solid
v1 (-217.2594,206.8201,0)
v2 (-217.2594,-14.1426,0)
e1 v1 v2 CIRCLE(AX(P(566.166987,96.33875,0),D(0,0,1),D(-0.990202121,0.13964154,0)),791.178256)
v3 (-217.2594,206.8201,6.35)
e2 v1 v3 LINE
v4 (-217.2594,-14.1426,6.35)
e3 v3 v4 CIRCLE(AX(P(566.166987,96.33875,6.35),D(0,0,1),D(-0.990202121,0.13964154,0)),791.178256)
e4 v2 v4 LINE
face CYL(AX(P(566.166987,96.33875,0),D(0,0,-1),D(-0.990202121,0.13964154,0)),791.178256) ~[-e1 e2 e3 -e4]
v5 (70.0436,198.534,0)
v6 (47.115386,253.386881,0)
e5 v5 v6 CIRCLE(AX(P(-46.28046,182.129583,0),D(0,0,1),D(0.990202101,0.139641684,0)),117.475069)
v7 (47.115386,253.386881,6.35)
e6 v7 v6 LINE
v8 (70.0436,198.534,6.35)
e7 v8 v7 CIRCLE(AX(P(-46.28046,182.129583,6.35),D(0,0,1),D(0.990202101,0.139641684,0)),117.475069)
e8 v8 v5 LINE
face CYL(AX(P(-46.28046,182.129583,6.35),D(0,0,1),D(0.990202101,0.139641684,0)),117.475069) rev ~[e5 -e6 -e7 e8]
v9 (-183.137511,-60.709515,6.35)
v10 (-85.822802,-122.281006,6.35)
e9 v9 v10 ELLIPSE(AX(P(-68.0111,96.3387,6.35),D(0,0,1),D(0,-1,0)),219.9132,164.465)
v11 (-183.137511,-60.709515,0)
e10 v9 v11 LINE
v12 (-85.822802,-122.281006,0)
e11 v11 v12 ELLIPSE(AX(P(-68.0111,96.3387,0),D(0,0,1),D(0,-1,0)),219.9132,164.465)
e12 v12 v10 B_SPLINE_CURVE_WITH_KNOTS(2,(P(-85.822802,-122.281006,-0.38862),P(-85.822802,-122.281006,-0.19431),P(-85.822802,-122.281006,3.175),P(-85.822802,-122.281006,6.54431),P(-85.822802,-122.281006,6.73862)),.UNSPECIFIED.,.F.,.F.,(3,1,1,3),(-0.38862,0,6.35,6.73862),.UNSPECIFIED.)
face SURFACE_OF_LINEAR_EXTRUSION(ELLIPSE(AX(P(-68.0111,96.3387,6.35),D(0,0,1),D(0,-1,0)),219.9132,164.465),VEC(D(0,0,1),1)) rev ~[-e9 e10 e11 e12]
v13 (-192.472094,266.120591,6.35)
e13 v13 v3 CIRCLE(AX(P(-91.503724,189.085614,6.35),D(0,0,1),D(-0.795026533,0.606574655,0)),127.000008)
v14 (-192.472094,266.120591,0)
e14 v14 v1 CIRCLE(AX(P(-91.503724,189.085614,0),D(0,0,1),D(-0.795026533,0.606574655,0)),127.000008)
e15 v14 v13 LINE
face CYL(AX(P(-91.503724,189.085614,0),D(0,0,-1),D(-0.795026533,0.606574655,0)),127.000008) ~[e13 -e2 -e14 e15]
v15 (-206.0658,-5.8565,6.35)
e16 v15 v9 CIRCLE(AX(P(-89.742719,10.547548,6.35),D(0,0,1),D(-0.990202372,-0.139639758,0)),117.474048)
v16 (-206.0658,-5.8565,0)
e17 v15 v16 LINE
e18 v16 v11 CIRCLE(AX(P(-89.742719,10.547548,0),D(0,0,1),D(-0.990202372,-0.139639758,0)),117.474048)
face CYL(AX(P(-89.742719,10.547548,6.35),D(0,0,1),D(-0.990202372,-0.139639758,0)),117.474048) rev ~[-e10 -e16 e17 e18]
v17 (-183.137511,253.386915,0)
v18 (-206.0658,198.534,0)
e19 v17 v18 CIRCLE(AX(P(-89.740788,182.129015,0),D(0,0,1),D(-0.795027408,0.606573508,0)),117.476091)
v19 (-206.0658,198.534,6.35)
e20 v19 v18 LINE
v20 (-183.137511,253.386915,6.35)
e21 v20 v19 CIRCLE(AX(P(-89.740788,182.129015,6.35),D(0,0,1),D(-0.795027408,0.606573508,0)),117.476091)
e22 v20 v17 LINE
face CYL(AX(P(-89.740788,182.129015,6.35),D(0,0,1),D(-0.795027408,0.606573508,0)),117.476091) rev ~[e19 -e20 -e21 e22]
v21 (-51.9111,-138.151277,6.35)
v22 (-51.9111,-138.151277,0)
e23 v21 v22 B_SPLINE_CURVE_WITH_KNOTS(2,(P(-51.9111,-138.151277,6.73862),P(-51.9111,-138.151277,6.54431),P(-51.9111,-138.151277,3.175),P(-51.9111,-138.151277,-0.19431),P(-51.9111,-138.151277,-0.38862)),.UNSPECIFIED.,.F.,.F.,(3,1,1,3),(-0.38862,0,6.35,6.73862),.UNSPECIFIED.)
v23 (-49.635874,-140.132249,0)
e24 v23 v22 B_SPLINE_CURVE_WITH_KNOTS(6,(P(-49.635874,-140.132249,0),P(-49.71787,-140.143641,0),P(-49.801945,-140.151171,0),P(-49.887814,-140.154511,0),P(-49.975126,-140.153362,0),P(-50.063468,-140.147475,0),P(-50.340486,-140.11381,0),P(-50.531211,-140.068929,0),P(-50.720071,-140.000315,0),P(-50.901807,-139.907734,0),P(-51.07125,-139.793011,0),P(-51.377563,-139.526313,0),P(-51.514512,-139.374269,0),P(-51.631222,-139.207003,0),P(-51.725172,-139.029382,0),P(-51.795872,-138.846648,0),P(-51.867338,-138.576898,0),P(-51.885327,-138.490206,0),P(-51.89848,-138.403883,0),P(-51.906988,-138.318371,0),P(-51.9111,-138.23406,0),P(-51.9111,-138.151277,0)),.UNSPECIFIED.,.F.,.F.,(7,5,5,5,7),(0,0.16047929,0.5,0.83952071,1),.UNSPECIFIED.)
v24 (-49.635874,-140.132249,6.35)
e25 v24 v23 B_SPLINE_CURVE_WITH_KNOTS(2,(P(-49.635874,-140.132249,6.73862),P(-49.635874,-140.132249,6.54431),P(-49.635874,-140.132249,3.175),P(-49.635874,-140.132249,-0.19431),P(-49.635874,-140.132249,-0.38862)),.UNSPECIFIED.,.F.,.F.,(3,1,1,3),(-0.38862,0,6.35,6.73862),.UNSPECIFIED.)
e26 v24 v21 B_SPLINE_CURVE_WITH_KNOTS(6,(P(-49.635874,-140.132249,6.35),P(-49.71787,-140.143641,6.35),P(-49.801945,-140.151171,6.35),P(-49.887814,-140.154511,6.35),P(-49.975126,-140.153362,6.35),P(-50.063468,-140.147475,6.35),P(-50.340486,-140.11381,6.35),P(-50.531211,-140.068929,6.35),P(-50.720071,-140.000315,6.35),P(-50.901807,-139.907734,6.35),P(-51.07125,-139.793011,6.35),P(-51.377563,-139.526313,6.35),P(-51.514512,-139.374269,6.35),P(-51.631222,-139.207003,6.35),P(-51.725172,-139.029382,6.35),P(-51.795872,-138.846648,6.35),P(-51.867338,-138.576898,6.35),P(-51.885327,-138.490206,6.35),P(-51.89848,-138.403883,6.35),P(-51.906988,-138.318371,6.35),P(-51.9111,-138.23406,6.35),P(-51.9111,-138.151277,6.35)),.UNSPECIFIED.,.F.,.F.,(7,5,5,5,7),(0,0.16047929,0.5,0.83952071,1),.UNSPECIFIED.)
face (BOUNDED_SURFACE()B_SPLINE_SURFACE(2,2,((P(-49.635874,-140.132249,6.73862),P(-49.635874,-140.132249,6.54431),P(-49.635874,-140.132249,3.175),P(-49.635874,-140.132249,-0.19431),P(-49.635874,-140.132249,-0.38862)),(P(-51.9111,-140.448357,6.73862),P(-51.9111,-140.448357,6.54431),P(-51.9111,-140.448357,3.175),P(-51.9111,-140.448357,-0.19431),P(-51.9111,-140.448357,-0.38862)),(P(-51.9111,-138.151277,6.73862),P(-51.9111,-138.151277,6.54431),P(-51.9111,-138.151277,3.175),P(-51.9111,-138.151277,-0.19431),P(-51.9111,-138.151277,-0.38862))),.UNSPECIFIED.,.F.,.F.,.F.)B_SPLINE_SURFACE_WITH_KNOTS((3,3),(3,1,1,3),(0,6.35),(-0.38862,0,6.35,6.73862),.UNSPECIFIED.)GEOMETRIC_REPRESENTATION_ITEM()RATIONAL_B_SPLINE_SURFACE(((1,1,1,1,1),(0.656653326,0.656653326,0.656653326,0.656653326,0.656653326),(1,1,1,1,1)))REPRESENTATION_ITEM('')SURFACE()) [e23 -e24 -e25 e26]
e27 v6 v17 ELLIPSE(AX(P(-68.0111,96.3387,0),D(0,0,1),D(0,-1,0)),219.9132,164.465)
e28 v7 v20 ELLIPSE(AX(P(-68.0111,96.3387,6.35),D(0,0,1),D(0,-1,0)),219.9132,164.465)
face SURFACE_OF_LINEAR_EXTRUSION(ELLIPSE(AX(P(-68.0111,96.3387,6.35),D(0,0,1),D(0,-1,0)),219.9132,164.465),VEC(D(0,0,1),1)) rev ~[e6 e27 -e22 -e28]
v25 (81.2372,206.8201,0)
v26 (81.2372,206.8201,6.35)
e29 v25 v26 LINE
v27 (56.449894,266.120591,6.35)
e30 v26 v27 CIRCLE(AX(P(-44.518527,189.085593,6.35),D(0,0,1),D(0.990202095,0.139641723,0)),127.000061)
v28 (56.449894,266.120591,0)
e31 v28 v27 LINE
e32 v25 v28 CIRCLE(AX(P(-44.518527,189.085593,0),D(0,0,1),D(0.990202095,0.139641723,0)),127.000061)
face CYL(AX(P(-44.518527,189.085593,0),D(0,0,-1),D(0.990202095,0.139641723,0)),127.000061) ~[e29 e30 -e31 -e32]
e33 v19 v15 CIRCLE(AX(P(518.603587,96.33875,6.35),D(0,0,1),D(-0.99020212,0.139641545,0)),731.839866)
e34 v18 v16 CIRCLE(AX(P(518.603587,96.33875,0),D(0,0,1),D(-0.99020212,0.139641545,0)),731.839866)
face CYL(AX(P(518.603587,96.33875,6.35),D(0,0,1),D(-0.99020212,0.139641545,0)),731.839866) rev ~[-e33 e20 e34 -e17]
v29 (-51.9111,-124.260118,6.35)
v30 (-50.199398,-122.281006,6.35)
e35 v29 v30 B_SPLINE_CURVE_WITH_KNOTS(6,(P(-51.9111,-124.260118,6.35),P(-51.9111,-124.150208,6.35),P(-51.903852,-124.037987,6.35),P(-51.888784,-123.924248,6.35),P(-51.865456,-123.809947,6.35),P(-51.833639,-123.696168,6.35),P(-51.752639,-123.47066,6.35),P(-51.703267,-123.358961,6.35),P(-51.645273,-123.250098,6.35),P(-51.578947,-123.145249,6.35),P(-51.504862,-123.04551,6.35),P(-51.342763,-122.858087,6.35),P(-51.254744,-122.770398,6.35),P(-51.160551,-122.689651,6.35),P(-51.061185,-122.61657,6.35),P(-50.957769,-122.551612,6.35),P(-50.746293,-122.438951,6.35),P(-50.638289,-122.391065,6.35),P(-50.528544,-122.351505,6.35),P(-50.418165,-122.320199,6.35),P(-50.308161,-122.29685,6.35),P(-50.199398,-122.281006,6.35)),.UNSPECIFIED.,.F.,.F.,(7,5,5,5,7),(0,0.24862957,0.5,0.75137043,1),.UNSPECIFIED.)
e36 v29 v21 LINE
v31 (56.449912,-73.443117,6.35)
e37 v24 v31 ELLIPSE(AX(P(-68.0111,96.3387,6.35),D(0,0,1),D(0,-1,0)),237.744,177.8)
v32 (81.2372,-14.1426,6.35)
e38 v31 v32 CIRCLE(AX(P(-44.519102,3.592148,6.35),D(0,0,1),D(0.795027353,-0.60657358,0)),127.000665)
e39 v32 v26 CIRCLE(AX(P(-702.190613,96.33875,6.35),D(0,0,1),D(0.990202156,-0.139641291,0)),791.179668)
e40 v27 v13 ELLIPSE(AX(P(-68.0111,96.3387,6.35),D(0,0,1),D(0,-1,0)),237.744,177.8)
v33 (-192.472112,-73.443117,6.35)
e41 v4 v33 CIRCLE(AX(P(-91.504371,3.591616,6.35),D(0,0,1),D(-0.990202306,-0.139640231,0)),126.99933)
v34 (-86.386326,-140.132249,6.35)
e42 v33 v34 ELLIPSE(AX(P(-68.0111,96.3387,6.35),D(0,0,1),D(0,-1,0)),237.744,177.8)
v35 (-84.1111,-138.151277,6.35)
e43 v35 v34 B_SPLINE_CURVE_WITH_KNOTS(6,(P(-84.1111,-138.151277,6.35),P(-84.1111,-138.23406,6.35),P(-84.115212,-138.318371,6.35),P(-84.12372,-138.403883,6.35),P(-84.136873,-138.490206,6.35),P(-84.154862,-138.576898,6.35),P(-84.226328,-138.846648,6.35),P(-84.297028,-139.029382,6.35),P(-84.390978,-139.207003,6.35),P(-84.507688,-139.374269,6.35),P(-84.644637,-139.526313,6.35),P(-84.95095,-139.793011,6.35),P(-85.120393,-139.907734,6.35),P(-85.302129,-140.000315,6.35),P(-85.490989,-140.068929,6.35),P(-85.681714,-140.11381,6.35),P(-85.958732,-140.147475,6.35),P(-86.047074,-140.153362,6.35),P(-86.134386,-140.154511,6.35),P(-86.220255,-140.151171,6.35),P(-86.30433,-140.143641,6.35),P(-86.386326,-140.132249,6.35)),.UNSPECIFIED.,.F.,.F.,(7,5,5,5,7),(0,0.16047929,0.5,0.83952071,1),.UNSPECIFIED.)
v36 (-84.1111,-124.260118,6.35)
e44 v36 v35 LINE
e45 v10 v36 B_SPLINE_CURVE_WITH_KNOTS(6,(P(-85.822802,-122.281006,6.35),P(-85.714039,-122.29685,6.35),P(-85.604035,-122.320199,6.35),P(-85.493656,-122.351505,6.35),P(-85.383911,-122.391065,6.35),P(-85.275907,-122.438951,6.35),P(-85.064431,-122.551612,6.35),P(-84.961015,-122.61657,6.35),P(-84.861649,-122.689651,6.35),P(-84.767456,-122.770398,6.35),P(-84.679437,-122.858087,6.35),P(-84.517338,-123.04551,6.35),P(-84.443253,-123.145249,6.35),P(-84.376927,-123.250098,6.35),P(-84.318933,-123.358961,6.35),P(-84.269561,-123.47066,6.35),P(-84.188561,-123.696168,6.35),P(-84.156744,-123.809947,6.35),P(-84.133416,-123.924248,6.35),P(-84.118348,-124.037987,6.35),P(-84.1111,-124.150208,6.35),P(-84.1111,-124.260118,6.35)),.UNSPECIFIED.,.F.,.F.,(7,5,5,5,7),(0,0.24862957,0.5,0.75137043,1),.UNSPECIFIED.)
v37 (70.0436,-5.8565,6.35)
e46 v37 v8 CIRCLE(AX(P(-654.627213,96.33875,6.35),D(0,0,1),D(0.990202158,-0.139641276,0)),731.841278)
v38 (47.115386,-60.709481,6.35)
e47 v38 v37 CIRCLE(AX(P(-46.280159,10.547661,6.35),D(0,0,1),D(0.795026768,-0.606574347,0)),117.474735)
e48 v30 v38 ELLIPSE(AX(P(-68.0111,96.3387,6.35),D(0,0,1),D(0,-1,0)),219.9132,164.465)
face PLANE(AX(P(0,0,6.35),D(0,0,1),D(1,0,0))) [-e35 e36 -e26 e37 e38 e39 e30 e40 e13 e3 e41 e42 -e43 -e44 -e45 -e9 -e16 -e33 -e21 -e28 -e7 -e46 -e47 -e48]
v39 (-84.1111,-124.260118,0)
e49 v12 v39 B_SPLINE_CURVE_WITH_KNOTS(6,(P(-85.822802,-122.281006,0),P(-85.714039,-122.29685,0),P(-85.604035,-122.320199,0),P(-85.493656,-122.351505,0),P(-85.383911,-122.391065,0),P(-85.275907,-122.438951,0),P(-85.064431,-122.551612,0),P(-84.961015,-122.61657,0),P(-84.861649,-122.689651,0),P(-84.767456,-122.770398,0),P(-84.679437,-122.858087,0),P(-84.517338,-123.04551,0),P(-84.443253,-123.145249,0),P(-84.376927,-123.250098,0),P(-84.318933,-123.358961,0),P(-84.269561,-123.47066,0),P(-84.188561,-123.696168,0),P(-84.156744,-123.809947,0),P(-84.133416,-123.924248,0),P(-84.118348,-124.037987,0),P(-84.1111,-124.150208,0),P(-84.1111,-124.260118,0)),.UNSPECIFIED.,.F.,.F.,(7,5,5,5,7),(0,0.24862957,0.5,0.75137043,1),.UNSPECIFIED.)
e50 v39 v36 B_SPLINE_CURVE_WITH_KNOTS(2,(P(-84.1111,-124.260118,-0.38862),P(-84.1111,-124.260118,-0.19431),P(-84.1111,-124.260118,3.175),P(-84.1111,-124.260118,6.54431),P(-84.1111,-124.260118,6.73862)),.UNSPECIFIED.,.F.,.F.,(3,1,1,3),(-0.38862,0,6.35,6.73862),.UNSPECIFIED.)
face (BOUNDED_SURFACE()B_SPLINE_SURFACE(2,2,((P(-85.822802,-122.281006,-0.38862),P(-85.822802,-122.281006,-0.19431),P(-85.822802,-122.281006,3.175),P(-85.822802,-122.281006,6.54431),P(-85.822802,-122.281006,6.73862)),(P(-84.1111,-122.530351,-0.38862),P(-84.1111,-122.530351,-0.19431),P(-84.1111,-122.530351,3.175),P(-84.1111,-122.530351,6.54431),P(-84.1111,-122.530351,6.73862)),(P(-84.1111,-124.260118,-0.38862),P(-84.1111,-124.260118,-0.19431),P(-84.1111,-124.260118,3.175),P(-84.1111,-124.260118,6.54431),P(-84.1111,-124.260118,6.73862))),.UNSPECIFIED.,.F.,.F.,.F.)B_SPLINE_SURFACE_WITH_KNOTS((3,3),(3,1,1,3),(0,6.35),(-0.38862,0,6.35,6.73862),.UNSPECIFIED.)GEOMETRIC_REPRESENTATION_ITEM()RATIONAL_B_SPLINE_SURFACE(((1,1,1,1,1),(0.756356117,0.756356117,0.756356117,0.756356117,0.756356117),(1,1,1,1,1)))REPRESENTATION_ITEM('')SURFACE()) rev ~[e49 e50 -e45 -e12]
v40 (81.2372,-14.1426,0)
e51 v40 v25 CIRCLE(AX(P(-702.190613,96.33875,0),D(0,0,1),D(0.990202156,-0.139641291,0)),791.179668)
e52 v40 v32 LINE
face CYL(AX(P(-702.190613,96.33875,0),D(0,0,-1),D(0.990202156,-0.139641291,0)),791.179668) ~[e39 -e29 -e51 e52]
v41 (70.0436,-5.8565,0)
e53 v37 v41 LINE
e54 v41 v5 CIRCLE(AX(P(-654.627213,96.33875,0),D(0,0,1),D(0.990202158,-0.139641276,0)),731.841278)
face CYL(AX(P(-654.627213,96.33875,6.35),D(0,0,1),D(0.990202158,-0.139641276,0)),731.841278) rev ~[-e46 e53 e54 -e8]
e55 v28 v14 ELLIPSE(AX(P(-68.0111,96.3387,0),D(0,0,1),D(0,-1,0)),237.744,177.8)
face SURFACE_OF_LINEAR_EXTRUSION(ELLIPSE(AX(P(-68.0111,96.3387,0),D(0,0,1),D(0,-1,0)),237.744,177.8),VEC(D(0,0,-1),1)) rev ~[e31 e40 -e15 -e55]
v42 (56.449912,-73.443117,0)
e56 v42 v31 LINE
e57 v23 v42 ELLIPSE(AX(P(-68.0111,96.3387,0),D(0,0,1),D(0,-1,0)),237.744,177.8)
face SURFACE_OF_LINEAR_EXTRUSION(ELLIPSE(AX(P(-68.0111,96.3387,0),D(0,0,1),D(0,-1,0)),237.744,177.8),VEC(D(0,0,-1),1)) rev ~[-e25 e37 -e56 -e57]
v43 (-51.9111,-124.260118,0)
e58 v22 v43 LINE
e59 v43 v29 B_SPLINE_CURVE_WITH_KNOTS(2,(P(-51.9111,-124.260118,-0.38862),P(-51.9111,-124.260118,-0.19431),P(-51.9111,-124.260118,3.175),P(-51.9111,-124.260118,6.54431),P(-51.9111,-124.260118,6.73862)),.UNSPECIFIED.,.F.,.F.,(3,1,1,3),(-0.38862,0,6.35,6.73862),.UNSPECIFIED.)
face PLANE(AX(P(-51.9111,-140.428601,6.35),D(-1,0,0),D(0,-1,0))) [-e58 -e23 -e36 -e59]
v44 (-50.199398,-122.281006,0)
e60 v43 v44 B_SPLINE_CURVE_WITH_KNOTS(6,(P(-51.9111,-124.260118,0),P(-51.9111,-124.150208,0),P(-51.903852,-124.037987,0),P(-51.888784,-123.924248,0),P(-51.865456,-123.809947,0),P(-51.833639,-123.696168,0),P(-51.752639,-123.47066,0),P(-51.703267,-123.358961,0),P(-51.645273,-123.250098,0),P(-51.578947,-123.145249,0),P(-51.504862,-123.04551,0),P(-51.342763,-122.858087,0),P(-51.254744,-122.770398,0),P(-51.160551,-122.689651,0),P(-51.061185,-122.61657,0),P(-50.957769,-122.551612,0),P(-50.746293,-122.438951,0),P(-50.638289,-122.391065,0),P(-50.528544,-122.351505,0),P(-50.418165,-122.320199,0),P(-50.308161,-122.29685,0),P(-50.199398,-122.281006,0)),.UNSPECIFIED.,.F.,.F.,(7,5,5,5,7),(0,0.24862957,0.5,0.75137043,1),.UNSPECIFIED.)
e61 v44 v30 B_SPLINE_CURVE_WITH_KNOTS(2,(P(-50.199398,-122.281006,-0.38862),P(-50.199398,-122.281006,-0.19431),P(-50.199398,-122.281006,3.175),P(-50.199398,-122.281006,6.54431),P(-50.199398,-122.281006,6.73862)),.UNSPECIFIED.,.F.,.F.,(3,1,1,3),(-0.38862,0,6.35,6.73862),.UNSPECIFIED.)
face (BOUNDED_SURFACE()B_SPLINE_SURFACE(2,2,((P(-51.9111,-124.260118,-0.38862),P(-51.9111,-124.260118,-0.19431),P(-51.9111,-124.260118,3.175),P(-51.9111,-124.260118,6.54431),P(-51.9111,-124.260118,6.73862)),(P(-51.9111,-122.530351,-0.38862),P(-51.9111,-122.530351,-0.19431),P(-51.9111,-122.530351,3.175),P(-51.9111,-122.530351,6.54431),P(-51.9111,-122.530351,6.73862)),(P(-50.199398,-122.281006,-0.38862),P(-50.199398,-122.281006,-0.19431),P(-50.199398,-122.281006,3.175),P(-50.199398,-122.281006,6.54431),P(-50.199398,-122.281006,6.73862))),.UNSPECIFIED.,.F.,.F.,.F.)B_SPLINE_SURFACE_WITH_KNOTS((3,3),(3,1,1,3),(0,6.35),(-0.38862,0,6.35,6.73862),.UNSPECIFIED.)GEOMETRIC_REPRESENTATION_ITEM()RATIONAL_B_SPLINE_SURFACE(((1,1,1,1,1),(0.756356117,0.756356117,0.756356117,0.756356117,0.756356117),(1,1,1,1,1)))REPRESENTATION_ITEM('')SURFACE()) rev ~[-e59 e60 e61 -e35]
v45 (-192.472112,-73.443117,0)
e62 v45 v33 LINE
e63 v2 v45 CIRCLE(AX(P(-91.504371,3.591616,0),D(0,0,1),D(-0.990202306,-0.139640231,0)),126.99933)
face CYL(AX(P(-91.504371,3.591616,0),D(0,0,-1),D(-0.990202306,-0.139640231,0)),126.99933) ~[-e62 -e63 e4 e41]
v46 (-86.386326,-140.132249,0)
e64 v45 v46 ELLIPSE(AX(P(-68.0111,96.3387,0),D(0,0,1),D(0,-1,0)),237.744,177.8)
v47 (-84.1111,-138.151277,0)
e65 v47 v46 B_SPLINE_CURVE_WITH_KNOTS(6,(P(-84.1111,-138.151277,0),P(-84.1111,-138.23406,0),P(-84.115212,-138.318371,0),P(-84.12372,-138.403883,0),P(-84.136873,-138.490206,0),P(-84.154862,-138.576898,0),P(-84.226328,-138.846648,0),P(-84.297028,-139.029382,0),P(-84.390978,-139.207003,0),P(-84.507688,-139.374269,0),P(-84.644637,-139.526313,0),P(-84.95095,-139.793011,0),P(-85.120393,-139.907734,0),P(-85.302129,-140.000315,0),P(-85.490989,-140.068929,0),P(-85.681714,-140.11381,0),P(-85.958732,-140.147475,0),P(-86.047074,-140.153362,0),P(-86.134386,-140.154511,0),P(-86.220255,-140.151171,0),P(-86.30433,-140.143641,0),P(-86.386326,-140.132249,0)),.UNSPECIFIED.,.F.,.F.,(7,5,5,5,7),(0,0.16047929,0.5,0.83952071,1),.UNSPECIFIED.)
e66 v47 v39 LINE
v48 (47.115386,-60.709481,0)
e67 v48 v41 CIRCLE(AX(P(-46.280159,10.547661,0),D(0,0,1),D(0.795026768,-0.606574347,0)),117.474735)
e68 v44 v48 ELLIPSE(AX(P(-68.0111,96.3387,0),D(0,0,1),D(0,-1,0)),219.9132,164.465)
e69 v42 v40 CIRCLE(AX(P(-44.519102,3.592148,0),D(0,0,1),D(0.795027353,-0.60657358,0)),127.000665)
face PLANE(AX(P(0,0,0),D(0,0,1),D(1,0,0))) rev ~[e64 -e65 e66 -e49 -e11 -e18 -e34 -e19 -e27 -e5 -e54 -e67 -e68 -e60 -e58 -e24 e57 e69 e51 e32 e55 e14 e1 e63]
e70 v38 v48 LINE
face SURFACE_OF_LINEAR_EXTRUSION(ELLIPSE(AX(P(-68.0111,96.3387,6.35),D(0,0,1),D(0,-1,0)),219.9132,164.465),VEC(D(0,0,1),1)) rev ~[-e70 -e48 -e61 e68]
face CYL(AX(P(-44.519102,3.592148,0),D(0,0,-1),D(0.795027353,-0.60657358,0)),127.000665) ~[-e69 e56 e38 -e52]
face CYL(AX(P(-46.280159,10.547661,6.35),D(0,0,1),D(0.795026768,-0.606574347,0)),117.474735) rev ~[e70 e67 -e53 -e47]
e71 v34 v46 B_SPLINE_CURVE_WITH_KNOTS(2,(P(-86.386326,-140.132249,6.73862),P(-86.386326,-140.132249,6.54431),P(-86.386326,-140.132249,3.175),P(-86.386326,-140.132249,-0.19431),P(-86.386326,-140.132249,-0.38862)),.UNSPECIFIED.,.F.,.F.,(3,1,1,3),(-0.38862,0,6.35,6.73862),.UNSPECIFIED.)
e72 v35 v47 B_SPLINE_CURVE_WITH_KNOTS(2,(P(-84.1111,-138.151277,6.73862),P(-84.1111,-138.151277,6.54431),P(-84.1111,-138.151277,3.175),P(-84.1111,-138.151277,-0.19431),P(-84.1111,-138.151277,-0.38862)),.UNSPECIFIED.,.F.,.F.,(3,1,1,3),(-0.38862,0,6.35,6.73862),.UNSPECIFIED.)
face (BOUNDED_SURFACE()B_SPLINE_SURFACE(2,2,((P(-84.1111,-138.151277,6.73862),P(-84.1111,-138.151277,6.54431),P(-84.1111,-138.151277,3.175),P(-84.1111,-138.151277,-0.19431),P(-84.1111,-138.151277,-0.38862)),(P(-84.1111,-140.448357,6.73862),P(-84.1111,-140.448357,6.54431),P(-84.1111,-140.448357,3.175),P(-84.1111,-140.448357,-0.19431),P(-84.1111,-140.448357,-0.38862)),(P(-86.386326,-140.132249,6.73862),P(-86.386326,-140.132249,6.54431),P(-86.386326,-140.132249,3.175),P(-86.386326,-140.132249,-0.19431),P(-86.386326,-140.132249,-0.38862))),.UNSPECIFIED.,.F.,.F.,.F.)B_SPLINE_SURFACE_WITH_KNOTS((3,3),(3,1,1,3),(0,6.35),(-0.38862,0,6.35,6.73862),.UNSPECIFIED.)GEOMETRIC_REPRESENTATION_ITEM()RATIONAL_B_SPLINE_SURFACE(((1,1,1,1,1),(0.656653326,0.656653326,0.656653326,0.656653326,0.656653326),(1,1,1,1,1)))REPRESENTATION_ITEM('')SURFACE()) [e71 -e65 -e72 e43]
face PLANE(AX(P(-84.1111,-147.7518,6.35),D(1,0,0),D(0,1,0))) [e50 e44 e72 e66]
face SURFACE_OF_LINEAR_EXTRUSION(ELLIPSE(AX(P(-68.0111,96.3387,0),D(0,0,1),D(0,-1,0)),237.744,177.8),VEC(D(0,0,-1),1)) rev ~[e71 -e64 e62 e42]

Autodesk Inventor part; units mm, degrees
ref_plane "YZ Plane" through (0, 0, 0) normal (1, 0, 0) x (0, 1, 0)
ref_plane "XZ Plane" through (0, 0, 0) normal (0, 1, 0) x (-1, 0, 0)
ref_plane "XY Plane" through (0, 0, 0) normal (0, 0, 1) x (1, 0, 0)
ref_plane "Work Plane2" through (0, 0, 0) normal (0, 0, 1) x (1, 0, 0)
sketch "Sketch1" plane through (0, 0, 0) normal (0, 0, 1) x (1, 0, 0)
  circle A0 centre (-192.358, 126.614) radius 1.75 projected
  arc A1 (81.2372, 206.8201) -> (56.4499, 266.1206) centre (-44.5185, 189.0856) ccw
  ellipse E0 centre (-68.0111, 96.3387) end of major axis (-68.0111, -141.4053) minor radius 177.8 (56.4499, 266.1206) -> (-192.4721, 266.1206) ccw
  arc A2 (-192.4721, 266.1206) -> (-217.2594, 206.8201) centre (-91.5037, 189.0856) ccw
  arc A3 (-217.2594, 206.8201) -> (-217.2594, -14.1426) centre (566.1677, 96.3387) ccw
  arc A4 (-217.2594, -14.1426) -> (-192.4721, -73.4431) centre (-91.5037, 3.5918) ccw
  ellipse E1 centre (-68.0111, 96.3387) end of major axis (-68.0111, -141.4053) minor radius 177.8 (-192.4721, -73.4431) -> (56.4499, -73.4431) ccw
  arc A5 (56.4499, -73.4431) -> (81.2372, -14.1426) centre (-44.5185, 3.5918) ccw
  arc A6 (81.2372, -14.1426) -> (81.2372, 206.8201) centre (-702.1899, 96.3387) ccw
extrude "Extrusion1" add sketch "Sketch1" along normal blind 6.35 contours A0 | A6 A5 E1 A4 A3 A2 E0 A1
sketch "Sketch2" plane through (0, 0, 6.35) normal (0, 0, 1) x (1, 0, 0)
  circle A0 centre (-183.032, 124.3433) radius 1.6187
  arc A1 (70.0436, 198.534) -> (47.1154, 253.3869) centre (-46.2804, 182.1296) ccw
  ellipse E0 centre (-68.0111, 96.3387) end of major axis (-68.0111, -123.5745) minor radius 164.465 (47.1154, 253.3869) -> (-183.1375, 253.3869) ccw
  arc A2 (-183.1375, 253.3869) -> (-206.0658, 198.534) centre (-89.7418, 182.1296) ccw
  arc A3 (-206.0658, 198.534) -> (-206.0658, -5.8565) centre (518.6043, 96.3387) ccw
  arc A4 (-206.0658, -5.8565) -> (-183.1375, -60.7095) centre (-89.7418, 10.5478) ccw
  ellipse E1 centre (-68.0111, 96.3387) end of major axis (-68.0111, -123.5745) minor radius 164.465 (-183.1375, -60.7095) -> (47.1154, -60.7095) ccw
  arc A5 (47.1154, -60.7095) -> (70.0436, -5.8565) centre (-46.2804, 10.5478) ccw
  arc A6 (70.0436, -5.8565) -> (70.0436, 198.534) centre (-654.6265, 96.3387) ccw
  point P0 (0, 0)
extrude "Extrusion2" cut sketch "Sketch2" against normal blind 6.35 contours A0 | A6 A5 E1 A4 A3 A2 E0 A1
sketch "Sketch3" plane through (0, 0, 6.35) normal (0, 0, 1) x (1, 0, 0)
  circle A0 centre (-196.3999, 49.2593) radius 1.75 projected
  circle A1 centre (-190.196, 38.5473) radius 1.75 projected
  circle A2 centre (-167.6724, 59.9713) radius 1.75 projected
  circle A3 centre (-167.6724, 38.5473) radius 1.75 projected
  circle A4 centre (-161.4685, 49.2593) radius 1.75 projected
  circle A5 centre (54.1738, 59.9713) radius 1.75 projected
  circle A6 centre (60.3777, 49.2593) radius 1.75 projected
  circle A7 centre (25.4463, 29.0473) radius 1.75 projected
  circle A8 centre (25.4463, 49.2593) radius 1.75 projected
  circle A9 centre (25.4463, 69.4713) radius 1.75 projected
  circle A10 centre (31.6502, 59.9713) radius 1.75 projected
  circle A11 centre (31.6502, 38.5473) radius 1.75 projected
  circle A12 centre (54.1738, 38.5473) radius 1.75 projected
  circle A13 centre (60.3777, 29.0473) radius 1.75 projected
  circle A14 centre (60.3777, 69.4713) radius 1.75 projected
  circle A15 centre (-161.4685, 29.0473) radius 1.75 projected
  circle A16 centre (-190.196, 59.9713) radius 1.75 projected
  circle A17 centre (-161.4685, 69.4713) radius 1.75 projected
  circle A18 centre (-196.3999, 29.0473) radius 1.75 projected
  circle A19 centre (-196.3999, 69.4713) radius 1.75 projected
  circle A20 centre (-192.358, 126.614) radius 1.75 projected
  circle A21 centre (-166.2135, 137.114) radius 1.75 projected
  circle A22 centre (-151.3535, 137.114) radius 1.75 projected
  circle A23 centre (56.3358, 169.2663) radius 1.75 projected
  circle A24 centre (30.1913, 137.114) radius 1.75 projected
  circle A25 centre (30.1913, 169.114) radius 1.75 projected
  circle A26 centre (15.3313, 169.114) radius 1.75 projected
  circle A27 centre (15.3313, 137.114) radius 1.75 projected
  circle A28 centre (56.3358, 126.614) radius 1.75 projected
  circle A29 centre (-166.2135, 169.114) radius 1.75 projected
  circle A30 centre (-192.358, 169.2663) radius 1.75 projected
  circle A31 centre (-151.3535, 169.114) radius 1.75 projected
  circle A32 centre (-125.2039, 71.3387) radius 1.75 projected
  circle A33 centre (-10.8188, 71.3387) radius 1.75 projected
  circle A34 centre (-125.2036, 96.9184) radius 1.75 projected
  circle A35 centre (-10.8185, 96.9184) radius 1.75 projected
  circle A36 centre (-10.8187, 86.9184) radius 1.75 projected
  circle A37 centre (-125.2035, 86.9184) radius 1.75 projected
  circle A38 centre (-10.8188, 61.3387) radius 1.75 projected
  circle A39 centre (-125.2039, 61.3387) radius 1.75 projected
  circle A40 centre (-68.6105, -28.321) radius 1.63 projected
  arc A41 (-88.5111, 275.0837) -> (-92.5111, 275.0837) centre (-90.5111, 275.0837) ccw projected
  line L0 (-88.5111, 275.0837) -> (-88.5111, 230.0837) projected
  arc A42 (-92.5111, 230.0837) -> (-88.5111, 230.0837) centre (-90.5111, 230.0837) ccw projected
  line L1 (-92.5111, 230.0837) -> (-92.5111, 275.0837) projected
  arc A43 (-43.5111, 275.0837) -> (-47.5111, 275.0837) centre (-45.5111, 275.0837) ccw projected
  line L2 (-43.5111, 275.0837) -> (-43.5111, 230.0837) projected
  arc A44 (-47.5111, 230.0837) -> (-43.5111, 230.0837) centre (-45.5111, 230.0837) ccw projected
  line L3 (-47.5111, 230.0837) -> (-47.5111, 275.0837) projected
  circle A45 centre (-6.132, -79.3472) radius 1.25 projected
  circle A46 centre (-145.3842, 185.8247) radius 1.5 projected
  circle A47 centre (-153.8932, -1.3222) radius 1.5 projected
  circle A48 centre (-145.3842, -79.3472) radius 1.5 projected
  circle A49 centre (-129.8902, 6.8528) radius 1.5 projected
  circle A50 centre (-116.3012, -71.1722) radius 1.5 projected
  circle A51 centre (-129.8902, 272.0247) radius 1.5 projected
  circle A52 centre (-129.8902, 185.8247) radius 1.5 projected
  circle A53 centre (-116.3012, 263.8497) radius 1.5 projected
  circle A54 centre (17.871, -71.1722) radius 1.5 projected
  circle A55 centre (-6.132, 6.8528) radius 1.5 projected
  circle A56 centre (-19.721, -1.3222) radius 1.5 projected
  circle A57 centre (17.871, 263.8497) radius 1.5 projected
  circle A58 centre (9.362, 272.0247) radius 1.5 projected
  circle A59 centre (9.362, 185.8247) radius 1.5 projected
  circle A60 centre (-19.721, 193.9997) radius 1.5 projected
  circle A61 centre (-19.721, 263.8497) radius 1.5 projected
  circle A62 centre (-6.132, 185.8247) radius 1.5 projected
  circle A63 centre (-6.132, 272.0247) radius 1.5 projected
  circle A64 centre (17.871, 193.9997) radius 1.5 projected
  circle A65 centre (-19.721, -71.1722) radius 1.5 projected
  circle A66 centre (9.362, -79.3472) radius 1.5 projected
  circle A67 centre (9.362, 6.8528) radius 1.5 projected
  circle A68 centre (17.871, -1.3222) radius 1.5 projected
  circle A69 centre (-116.3012, 193.9997) radius 1.5 projected
  circle A70 centre (-153.8932, 193.9997) radius 1.5 projected
  circle A71 centre (-153.8932, 263.8497) radius 1.5 projected
  circle A72 centre (-145.3842, 6.8528) radius 1.5 projected
  circle A73 centre (-129.8902, -79.3472) radius 1.5 projected
  circle A74 centre (-153.8932, -71.1722) radius 1.5 projected
  circle A75 centre (-116.3012, -1.3222) radius 1.5 projected
  circle A76 centre (-145.3842, 272.0247) radius 1.5 projected
  arc A77 (81.2372, 206.8201) -> (56.4499, 266.1206) centre (-44.5185, 189.0856) ccw projected
  ellipse E0 centre (-68.0111, 96.3387) end of major axis (-68.0111, -141.4053) minor radius 177.8 (56.4499, 266.1206) -> (-192.4721, 266.1206) ccw projected
  arc A78 (-192.4721, 266.1206) -> (-217.2594, 206.8201) centre (-91.5037, 189.0856) ccw projected
  arc A79 (-217.2594, 206.8201) -> (-217.2594, -14.1426) centre (566.1677, 96.3387) ccw projected
  arc A80 (-217.2594, -14.1426) -> (-192.4721, -73.4431) centre (-91.5037, 3.5918) ccw projected
  ellipse E1 centre (-68.0111, 96.3387) end of major axis (-68.0111, -141.4053) minor radius 177.8 (-192.4721, -73.4431) -> (56.4499, -73.4431) ccw projected
  arc A81 (56.4499, -73.4431) -> (81.2372, -14.1426) centre (-44.5185, 3.5918) ccw projected
  arc A82 (81.2372, -14.1426) -> (81.2372, 206.8201) centre (-702.1899, 96.3387) ccw projected
  circle A83 centre (-35.6216, 248.9087) radius 1.25 projected
  circle A84 centre (-100.4006, 318.7587) radius 1.25 projected
  circle A85 centre (-100.4006, 248.9087) radius 1.25 projected
  circle A86 centre (-35.6216, 318.7587) radius 1.25 projected
  circle A87 centre (-56.9111, -118.4053) radius 1.5 projected
  circle A88 centre (-79.1111, -118.4053) radius 1.5 projected
  circle A89 centre (-58.7361, -128.5803) radius 1.5 projected
  circle A90 centre (-61.0891, -46.904) radius 1.5 projected
  circle A91 centre (-53.9141, -54.079) radius 1.5 projected
  circle A92 centre (-92.2681, -54.079) radius 1.5 projected
  circle A93 centre (-85.0931, -46.904) radius 1.5 projected
  circle A94 centre (-77.2861, -128.5803) radius 1.5 projected
  circle A95 centre (-79.1111, -110.4053) radius 1.5 projected
  circle A96 centre (-56.9111, -110.4053) radius 1.5 projected
  line L4 (-82.971, -17.5241) -> (-82.971, 43.3967) projected
  line L5 (-82.971, 43.3967) -> (-52.491, 43.3967) projected
  line L6 (-52.491, 43.3967) -> (-52.491, -17.5241) projected
  line L7 (-52.491, -17.5241) -> (-82.971, -17.5241) projected
  circle A97 centre (-68.0111, 137.616) radius 35 projected
  line L8 (-123.7158, 171.3631) -> (-119.7158, 171.3631) projected
  arc A98 (-119.7158, 168.3632) -> (-119.7158, 171.3631) centre (-119.7158, 169.8631) ccw projected
  line L9 (-119.7158, 168.3632) -> (-123.7158, 168.3632) projected
  arc A99 (-123.7158, 171.3631) -> (-123.7158, 168.3632) centre (-123.7158, 169.8631) ccw projected
  line L10 (-123.6698, 106.6744) -> (-119.6698, 106.6744) projected
  arc A100 (-119.6698, 103.6746) -> (-119.6698, 106.6744) centre (-119.6698, 105.1745) ccw projected
  line L11 (-119.6698, 103.6746) -> (-123.6698, 103.6746) projected
  arc A101 (-123.6698, 106.6744) -> (-123.6698, 103.6746) centre (-123.6698, 105.1745) ccw projected
  line L12 (-9.1669, 171.4444) -> (-5.1669, 171.4444) projected
  arc A102 (-5.1669, 168.4446) -> (-5.1669, 171.4444) centre (-5.1669, 169.9445) ccw projected
  line L13 (-5.1669, 168.4446) -> (-9.1669, 168.4446) projected
  arc A103 (-9.1669, 171.4444) -> (-9.1669, 168.4446) centre (-9.1669, 169.9445) ccw projected
  line L14 (-5.1669, 103.6742) -> (-9.1669, 103.6742) projected
  arc A104 (-9.1669, 106.6741) -> (-9.1669, 103.6742) centre (-9.1669, 105.1742) ccw projected
  line L15 (-9.1669, 106.6741) -> (-5.1669, 106.6741) projected
  arc A105 (-5.1669, 103.6742) -> (-5.1669, 106.6741) centre (-5.1669, 105.1742) ccw projected
  arc A106 (-34.0816, 86.6493) -> (-37.0792, 86.6494) centre (-35.5804, 86.6492) ccw projected
  line L16 (-34.0816, 86.6493) -> (-34.0814, 82.6493) projected
  arc A107 (-37.0794, 82.6493) -> (-34.0814, 82.6493) centre (-35.5804, 82.6492) ccw projected
  line L17 (-37.0794, 82.6493) -> (-37.0792, 86.6494) projected
  arc A108 (-34.0865, 201.0395) -> (-37.0841, 201.0395) centre (-35.5853, 201.0395) ccw projected
  line L18 (-34.0865, 201.0395) -> (-34.0863, 197.0396) projected
  arc A109 (-37.0843, 197.0395) -> (-34.0863, 197.0396) centre (-35.5853, 197.0395) ccw projected
  line L19 (-37.0843, 197.0395) -> (-37.0841, 201.0395) projected
  arc A110 (-34.0812, 78.9993) -> (-37.0788, 78.9992) centre (-35.58, 78.9992) ccw projected
  line L20 (-34.0812, 78.9993) -> (-34.081, 74.9993) projected
  arc A111 (-37.079, 74.9993) -> (-34.081, 74.9993) centre (-35.58, 74.9992) ccw projected
  line L21 (-37.079, 74.9993) -> (-37.0788, 78.9992) projected
  arc A112 (-98.9325, 193.3865) -> (-101.9301, 193.3866) centre (-100.4313, 193.3865) ccw projected
  line L22 (-98.9325, 193.3865) -> (-98.9323, 189.3866) projected
  arc A113 (-101.9303, 189.3866) -> (-98.9323, 189.3866) centre (-100.4313, 189.3865) ccw projected
  line L23 (-101.9303, 189.3866) -> (-101.9301, 193.3866) projected
  circle A114 centre (-95.163, -4.4165) radius 1.25 projected
  circle A115 centre (-36.616, 37.0467) radius 1.25 projected
  circle A116 centre (-46.141, -14.3491) radius 1.25 projected
  circle A117 centre (-36.616, -11.1741) radius 1.25 projected
  circle A118 centre (-36.616, 12.9421) radius 1.25 projected
  circle A119 centre (-46.141, 40.2217) radius 1.25 projected
  circle A120 centre (-95.163, 40.4375) radius 1.25 projected
  arc A121 (-98.8512, 78.9533) -> (-101.8488, 78.9533) centre (-100.35, 78.9533) ccw projected
  line L24 (-98.8512, 78.9533) -> (-98.851, 74.9533) projected
  arc A122 (-101.849, 74.9533) -> (-98.851, 74.9533) centre (-100.35, 74.9533) ccw projected
  line L25 (-101.849, 74.9533) -> (-101.8488, 78.9533) projected
  line L26 (-34.0865, 193.3895) -> (-34.0863, 189.3896) projected
  arc A123 (-37.0843, 189.3896) -> (-34.0863, 189.3896) centre (-35.5853, 189.3895) ccw projected
  line L27 (-37.0843, 189.3896) -> (-37.0841, 193.3896) projected
  arc A124 (-34.0865, 193.3895) -> (-37.0841, 193.3896) centre (-35.5853, 193.3895) ccw projected
  arc A125 (-98.9379, 201.0395) -> (-101.9362, 200.9947) centre (-100.4367, 200.9934) ccw projected
  line L28 (-98.9379, 201.0395) -> (-98.9377, 196.9935) projected
  arc A126 (-101.9357, 196.9932) -> (-98.9377, 196.9935) centre (-100.4367, 196.9934) ccw projected
  line L29 (-101.9357, 196.9932) -> (-101.9362, 200.9947) projected
  arc A127 (-98.8567, 86.6032) -> (-101.8543, 86.6033) centre (-100.3555, 86.6032) ccw projected
  line L30 (-98.8567, 86.6032) -> (-98.8565, 82.6033) projected
  arc A128 (-101.8544, 82.6033) -> (-98.8565, 82.6033) centre (-100.3555, 82.6032) ccw projected
  line L31 (-101.8544, 82.6033) -> (-101.8543, 86.6033) projected
  line L32 (-16.8169, 106.6744) -> (-12.8169, 106.6744) projected
  arc A129 (-12.8169, 103.6746) -> (-12.8169, 106.6744) centre (-12.8169, 105.1745) ccw projected
  line L33 (-12.8169, 103.6746) -> (-16.8169, 103.6746) projected
  arc A130 (-16.8169, 106.6744) -> (-16.8169, 103.6746) centre (-16.8169, 105.1745) ccw projected
  line L34 (-16.8629, 171.439) -> (-12.8629, 171.439) projected
  arc A131 (-12.8629, 168.4391) -> (-12.8629, 171.439) centre (-12.8629, 169.9391) ccw projected
  line L35 (-12.8629, 168.4391) -> (-16.8629, 168.4391) projected
  arc A132 (-16.8629, 171.439) -> (-16.8629, 168.4391) centre (-16.8629, 169.9391) ccw projected
  line L36 (-131.3198, 106.6744) -> (-127.3198, 106.6744) projected
  arc A133 (-127.3198, 103.6746) -> (-127.3198, 106.6744) centre (-127.3198, 105.1745) ccw projected
  line L37 (-127.3198, 103.6746) -> (-131.3198, 103.6746) projected
  arc A134 (-131.3198, 106.6744) -> (-131.3198, 103.6746) centre (-131.3198, 105.1745) ccw projected
  line L38 (-131.3658, 171.3576) -> (-127.3658, 171.3576) projected
  arc A135 (-127.3658, 168.3578) -> (-127.3658, 171.3576) centre (-127.3658, 169.8577) ccw projected
  line L39 (-127.3658, 168.3578) -> (-131.3658, 168.3578) projected
  arc A136 (-131.3658, 171.3576) -> (-131.3658, 168.3578) centre (-131.3658, 169.8577) ccw projected
  line L40 (-84.1111, -106.4053) -> (-84.1111, -139.5398) projected
  line L41 (-51.9111, -139.5398) -> (-51.9111, -106.4053) projected
  line L42 (-84.1111, -122.3838) -> (-51.9111, -122.3838)
  line L43 (-51.9111, -122.3838) -> (-51.9111, -147.7518)
  line L44 (-51.9111, -147.7518) -> (-84.1111, -147.7518)
  line L45 (-84.1111, -147.7518) -> (-84.1111, -122.3838)
  point P0 (0, 0)
extrude "Extrusion3" cut sketch "Sketch3" against normal blind 6.35 contours L43 L44 L45 E1 | E1 L45 L40 L42 L41 L43 | A89 | A94
fillet "Fillet1" radius 2 4 edges at (-84.1111, -140.4286, 3.175) (-51.9111, -140.4286, 3.175) (-84.1111, -122.5182, 3.175) (-51.9111, -122.5182, 3.175)
properties part number "FrameRim"
